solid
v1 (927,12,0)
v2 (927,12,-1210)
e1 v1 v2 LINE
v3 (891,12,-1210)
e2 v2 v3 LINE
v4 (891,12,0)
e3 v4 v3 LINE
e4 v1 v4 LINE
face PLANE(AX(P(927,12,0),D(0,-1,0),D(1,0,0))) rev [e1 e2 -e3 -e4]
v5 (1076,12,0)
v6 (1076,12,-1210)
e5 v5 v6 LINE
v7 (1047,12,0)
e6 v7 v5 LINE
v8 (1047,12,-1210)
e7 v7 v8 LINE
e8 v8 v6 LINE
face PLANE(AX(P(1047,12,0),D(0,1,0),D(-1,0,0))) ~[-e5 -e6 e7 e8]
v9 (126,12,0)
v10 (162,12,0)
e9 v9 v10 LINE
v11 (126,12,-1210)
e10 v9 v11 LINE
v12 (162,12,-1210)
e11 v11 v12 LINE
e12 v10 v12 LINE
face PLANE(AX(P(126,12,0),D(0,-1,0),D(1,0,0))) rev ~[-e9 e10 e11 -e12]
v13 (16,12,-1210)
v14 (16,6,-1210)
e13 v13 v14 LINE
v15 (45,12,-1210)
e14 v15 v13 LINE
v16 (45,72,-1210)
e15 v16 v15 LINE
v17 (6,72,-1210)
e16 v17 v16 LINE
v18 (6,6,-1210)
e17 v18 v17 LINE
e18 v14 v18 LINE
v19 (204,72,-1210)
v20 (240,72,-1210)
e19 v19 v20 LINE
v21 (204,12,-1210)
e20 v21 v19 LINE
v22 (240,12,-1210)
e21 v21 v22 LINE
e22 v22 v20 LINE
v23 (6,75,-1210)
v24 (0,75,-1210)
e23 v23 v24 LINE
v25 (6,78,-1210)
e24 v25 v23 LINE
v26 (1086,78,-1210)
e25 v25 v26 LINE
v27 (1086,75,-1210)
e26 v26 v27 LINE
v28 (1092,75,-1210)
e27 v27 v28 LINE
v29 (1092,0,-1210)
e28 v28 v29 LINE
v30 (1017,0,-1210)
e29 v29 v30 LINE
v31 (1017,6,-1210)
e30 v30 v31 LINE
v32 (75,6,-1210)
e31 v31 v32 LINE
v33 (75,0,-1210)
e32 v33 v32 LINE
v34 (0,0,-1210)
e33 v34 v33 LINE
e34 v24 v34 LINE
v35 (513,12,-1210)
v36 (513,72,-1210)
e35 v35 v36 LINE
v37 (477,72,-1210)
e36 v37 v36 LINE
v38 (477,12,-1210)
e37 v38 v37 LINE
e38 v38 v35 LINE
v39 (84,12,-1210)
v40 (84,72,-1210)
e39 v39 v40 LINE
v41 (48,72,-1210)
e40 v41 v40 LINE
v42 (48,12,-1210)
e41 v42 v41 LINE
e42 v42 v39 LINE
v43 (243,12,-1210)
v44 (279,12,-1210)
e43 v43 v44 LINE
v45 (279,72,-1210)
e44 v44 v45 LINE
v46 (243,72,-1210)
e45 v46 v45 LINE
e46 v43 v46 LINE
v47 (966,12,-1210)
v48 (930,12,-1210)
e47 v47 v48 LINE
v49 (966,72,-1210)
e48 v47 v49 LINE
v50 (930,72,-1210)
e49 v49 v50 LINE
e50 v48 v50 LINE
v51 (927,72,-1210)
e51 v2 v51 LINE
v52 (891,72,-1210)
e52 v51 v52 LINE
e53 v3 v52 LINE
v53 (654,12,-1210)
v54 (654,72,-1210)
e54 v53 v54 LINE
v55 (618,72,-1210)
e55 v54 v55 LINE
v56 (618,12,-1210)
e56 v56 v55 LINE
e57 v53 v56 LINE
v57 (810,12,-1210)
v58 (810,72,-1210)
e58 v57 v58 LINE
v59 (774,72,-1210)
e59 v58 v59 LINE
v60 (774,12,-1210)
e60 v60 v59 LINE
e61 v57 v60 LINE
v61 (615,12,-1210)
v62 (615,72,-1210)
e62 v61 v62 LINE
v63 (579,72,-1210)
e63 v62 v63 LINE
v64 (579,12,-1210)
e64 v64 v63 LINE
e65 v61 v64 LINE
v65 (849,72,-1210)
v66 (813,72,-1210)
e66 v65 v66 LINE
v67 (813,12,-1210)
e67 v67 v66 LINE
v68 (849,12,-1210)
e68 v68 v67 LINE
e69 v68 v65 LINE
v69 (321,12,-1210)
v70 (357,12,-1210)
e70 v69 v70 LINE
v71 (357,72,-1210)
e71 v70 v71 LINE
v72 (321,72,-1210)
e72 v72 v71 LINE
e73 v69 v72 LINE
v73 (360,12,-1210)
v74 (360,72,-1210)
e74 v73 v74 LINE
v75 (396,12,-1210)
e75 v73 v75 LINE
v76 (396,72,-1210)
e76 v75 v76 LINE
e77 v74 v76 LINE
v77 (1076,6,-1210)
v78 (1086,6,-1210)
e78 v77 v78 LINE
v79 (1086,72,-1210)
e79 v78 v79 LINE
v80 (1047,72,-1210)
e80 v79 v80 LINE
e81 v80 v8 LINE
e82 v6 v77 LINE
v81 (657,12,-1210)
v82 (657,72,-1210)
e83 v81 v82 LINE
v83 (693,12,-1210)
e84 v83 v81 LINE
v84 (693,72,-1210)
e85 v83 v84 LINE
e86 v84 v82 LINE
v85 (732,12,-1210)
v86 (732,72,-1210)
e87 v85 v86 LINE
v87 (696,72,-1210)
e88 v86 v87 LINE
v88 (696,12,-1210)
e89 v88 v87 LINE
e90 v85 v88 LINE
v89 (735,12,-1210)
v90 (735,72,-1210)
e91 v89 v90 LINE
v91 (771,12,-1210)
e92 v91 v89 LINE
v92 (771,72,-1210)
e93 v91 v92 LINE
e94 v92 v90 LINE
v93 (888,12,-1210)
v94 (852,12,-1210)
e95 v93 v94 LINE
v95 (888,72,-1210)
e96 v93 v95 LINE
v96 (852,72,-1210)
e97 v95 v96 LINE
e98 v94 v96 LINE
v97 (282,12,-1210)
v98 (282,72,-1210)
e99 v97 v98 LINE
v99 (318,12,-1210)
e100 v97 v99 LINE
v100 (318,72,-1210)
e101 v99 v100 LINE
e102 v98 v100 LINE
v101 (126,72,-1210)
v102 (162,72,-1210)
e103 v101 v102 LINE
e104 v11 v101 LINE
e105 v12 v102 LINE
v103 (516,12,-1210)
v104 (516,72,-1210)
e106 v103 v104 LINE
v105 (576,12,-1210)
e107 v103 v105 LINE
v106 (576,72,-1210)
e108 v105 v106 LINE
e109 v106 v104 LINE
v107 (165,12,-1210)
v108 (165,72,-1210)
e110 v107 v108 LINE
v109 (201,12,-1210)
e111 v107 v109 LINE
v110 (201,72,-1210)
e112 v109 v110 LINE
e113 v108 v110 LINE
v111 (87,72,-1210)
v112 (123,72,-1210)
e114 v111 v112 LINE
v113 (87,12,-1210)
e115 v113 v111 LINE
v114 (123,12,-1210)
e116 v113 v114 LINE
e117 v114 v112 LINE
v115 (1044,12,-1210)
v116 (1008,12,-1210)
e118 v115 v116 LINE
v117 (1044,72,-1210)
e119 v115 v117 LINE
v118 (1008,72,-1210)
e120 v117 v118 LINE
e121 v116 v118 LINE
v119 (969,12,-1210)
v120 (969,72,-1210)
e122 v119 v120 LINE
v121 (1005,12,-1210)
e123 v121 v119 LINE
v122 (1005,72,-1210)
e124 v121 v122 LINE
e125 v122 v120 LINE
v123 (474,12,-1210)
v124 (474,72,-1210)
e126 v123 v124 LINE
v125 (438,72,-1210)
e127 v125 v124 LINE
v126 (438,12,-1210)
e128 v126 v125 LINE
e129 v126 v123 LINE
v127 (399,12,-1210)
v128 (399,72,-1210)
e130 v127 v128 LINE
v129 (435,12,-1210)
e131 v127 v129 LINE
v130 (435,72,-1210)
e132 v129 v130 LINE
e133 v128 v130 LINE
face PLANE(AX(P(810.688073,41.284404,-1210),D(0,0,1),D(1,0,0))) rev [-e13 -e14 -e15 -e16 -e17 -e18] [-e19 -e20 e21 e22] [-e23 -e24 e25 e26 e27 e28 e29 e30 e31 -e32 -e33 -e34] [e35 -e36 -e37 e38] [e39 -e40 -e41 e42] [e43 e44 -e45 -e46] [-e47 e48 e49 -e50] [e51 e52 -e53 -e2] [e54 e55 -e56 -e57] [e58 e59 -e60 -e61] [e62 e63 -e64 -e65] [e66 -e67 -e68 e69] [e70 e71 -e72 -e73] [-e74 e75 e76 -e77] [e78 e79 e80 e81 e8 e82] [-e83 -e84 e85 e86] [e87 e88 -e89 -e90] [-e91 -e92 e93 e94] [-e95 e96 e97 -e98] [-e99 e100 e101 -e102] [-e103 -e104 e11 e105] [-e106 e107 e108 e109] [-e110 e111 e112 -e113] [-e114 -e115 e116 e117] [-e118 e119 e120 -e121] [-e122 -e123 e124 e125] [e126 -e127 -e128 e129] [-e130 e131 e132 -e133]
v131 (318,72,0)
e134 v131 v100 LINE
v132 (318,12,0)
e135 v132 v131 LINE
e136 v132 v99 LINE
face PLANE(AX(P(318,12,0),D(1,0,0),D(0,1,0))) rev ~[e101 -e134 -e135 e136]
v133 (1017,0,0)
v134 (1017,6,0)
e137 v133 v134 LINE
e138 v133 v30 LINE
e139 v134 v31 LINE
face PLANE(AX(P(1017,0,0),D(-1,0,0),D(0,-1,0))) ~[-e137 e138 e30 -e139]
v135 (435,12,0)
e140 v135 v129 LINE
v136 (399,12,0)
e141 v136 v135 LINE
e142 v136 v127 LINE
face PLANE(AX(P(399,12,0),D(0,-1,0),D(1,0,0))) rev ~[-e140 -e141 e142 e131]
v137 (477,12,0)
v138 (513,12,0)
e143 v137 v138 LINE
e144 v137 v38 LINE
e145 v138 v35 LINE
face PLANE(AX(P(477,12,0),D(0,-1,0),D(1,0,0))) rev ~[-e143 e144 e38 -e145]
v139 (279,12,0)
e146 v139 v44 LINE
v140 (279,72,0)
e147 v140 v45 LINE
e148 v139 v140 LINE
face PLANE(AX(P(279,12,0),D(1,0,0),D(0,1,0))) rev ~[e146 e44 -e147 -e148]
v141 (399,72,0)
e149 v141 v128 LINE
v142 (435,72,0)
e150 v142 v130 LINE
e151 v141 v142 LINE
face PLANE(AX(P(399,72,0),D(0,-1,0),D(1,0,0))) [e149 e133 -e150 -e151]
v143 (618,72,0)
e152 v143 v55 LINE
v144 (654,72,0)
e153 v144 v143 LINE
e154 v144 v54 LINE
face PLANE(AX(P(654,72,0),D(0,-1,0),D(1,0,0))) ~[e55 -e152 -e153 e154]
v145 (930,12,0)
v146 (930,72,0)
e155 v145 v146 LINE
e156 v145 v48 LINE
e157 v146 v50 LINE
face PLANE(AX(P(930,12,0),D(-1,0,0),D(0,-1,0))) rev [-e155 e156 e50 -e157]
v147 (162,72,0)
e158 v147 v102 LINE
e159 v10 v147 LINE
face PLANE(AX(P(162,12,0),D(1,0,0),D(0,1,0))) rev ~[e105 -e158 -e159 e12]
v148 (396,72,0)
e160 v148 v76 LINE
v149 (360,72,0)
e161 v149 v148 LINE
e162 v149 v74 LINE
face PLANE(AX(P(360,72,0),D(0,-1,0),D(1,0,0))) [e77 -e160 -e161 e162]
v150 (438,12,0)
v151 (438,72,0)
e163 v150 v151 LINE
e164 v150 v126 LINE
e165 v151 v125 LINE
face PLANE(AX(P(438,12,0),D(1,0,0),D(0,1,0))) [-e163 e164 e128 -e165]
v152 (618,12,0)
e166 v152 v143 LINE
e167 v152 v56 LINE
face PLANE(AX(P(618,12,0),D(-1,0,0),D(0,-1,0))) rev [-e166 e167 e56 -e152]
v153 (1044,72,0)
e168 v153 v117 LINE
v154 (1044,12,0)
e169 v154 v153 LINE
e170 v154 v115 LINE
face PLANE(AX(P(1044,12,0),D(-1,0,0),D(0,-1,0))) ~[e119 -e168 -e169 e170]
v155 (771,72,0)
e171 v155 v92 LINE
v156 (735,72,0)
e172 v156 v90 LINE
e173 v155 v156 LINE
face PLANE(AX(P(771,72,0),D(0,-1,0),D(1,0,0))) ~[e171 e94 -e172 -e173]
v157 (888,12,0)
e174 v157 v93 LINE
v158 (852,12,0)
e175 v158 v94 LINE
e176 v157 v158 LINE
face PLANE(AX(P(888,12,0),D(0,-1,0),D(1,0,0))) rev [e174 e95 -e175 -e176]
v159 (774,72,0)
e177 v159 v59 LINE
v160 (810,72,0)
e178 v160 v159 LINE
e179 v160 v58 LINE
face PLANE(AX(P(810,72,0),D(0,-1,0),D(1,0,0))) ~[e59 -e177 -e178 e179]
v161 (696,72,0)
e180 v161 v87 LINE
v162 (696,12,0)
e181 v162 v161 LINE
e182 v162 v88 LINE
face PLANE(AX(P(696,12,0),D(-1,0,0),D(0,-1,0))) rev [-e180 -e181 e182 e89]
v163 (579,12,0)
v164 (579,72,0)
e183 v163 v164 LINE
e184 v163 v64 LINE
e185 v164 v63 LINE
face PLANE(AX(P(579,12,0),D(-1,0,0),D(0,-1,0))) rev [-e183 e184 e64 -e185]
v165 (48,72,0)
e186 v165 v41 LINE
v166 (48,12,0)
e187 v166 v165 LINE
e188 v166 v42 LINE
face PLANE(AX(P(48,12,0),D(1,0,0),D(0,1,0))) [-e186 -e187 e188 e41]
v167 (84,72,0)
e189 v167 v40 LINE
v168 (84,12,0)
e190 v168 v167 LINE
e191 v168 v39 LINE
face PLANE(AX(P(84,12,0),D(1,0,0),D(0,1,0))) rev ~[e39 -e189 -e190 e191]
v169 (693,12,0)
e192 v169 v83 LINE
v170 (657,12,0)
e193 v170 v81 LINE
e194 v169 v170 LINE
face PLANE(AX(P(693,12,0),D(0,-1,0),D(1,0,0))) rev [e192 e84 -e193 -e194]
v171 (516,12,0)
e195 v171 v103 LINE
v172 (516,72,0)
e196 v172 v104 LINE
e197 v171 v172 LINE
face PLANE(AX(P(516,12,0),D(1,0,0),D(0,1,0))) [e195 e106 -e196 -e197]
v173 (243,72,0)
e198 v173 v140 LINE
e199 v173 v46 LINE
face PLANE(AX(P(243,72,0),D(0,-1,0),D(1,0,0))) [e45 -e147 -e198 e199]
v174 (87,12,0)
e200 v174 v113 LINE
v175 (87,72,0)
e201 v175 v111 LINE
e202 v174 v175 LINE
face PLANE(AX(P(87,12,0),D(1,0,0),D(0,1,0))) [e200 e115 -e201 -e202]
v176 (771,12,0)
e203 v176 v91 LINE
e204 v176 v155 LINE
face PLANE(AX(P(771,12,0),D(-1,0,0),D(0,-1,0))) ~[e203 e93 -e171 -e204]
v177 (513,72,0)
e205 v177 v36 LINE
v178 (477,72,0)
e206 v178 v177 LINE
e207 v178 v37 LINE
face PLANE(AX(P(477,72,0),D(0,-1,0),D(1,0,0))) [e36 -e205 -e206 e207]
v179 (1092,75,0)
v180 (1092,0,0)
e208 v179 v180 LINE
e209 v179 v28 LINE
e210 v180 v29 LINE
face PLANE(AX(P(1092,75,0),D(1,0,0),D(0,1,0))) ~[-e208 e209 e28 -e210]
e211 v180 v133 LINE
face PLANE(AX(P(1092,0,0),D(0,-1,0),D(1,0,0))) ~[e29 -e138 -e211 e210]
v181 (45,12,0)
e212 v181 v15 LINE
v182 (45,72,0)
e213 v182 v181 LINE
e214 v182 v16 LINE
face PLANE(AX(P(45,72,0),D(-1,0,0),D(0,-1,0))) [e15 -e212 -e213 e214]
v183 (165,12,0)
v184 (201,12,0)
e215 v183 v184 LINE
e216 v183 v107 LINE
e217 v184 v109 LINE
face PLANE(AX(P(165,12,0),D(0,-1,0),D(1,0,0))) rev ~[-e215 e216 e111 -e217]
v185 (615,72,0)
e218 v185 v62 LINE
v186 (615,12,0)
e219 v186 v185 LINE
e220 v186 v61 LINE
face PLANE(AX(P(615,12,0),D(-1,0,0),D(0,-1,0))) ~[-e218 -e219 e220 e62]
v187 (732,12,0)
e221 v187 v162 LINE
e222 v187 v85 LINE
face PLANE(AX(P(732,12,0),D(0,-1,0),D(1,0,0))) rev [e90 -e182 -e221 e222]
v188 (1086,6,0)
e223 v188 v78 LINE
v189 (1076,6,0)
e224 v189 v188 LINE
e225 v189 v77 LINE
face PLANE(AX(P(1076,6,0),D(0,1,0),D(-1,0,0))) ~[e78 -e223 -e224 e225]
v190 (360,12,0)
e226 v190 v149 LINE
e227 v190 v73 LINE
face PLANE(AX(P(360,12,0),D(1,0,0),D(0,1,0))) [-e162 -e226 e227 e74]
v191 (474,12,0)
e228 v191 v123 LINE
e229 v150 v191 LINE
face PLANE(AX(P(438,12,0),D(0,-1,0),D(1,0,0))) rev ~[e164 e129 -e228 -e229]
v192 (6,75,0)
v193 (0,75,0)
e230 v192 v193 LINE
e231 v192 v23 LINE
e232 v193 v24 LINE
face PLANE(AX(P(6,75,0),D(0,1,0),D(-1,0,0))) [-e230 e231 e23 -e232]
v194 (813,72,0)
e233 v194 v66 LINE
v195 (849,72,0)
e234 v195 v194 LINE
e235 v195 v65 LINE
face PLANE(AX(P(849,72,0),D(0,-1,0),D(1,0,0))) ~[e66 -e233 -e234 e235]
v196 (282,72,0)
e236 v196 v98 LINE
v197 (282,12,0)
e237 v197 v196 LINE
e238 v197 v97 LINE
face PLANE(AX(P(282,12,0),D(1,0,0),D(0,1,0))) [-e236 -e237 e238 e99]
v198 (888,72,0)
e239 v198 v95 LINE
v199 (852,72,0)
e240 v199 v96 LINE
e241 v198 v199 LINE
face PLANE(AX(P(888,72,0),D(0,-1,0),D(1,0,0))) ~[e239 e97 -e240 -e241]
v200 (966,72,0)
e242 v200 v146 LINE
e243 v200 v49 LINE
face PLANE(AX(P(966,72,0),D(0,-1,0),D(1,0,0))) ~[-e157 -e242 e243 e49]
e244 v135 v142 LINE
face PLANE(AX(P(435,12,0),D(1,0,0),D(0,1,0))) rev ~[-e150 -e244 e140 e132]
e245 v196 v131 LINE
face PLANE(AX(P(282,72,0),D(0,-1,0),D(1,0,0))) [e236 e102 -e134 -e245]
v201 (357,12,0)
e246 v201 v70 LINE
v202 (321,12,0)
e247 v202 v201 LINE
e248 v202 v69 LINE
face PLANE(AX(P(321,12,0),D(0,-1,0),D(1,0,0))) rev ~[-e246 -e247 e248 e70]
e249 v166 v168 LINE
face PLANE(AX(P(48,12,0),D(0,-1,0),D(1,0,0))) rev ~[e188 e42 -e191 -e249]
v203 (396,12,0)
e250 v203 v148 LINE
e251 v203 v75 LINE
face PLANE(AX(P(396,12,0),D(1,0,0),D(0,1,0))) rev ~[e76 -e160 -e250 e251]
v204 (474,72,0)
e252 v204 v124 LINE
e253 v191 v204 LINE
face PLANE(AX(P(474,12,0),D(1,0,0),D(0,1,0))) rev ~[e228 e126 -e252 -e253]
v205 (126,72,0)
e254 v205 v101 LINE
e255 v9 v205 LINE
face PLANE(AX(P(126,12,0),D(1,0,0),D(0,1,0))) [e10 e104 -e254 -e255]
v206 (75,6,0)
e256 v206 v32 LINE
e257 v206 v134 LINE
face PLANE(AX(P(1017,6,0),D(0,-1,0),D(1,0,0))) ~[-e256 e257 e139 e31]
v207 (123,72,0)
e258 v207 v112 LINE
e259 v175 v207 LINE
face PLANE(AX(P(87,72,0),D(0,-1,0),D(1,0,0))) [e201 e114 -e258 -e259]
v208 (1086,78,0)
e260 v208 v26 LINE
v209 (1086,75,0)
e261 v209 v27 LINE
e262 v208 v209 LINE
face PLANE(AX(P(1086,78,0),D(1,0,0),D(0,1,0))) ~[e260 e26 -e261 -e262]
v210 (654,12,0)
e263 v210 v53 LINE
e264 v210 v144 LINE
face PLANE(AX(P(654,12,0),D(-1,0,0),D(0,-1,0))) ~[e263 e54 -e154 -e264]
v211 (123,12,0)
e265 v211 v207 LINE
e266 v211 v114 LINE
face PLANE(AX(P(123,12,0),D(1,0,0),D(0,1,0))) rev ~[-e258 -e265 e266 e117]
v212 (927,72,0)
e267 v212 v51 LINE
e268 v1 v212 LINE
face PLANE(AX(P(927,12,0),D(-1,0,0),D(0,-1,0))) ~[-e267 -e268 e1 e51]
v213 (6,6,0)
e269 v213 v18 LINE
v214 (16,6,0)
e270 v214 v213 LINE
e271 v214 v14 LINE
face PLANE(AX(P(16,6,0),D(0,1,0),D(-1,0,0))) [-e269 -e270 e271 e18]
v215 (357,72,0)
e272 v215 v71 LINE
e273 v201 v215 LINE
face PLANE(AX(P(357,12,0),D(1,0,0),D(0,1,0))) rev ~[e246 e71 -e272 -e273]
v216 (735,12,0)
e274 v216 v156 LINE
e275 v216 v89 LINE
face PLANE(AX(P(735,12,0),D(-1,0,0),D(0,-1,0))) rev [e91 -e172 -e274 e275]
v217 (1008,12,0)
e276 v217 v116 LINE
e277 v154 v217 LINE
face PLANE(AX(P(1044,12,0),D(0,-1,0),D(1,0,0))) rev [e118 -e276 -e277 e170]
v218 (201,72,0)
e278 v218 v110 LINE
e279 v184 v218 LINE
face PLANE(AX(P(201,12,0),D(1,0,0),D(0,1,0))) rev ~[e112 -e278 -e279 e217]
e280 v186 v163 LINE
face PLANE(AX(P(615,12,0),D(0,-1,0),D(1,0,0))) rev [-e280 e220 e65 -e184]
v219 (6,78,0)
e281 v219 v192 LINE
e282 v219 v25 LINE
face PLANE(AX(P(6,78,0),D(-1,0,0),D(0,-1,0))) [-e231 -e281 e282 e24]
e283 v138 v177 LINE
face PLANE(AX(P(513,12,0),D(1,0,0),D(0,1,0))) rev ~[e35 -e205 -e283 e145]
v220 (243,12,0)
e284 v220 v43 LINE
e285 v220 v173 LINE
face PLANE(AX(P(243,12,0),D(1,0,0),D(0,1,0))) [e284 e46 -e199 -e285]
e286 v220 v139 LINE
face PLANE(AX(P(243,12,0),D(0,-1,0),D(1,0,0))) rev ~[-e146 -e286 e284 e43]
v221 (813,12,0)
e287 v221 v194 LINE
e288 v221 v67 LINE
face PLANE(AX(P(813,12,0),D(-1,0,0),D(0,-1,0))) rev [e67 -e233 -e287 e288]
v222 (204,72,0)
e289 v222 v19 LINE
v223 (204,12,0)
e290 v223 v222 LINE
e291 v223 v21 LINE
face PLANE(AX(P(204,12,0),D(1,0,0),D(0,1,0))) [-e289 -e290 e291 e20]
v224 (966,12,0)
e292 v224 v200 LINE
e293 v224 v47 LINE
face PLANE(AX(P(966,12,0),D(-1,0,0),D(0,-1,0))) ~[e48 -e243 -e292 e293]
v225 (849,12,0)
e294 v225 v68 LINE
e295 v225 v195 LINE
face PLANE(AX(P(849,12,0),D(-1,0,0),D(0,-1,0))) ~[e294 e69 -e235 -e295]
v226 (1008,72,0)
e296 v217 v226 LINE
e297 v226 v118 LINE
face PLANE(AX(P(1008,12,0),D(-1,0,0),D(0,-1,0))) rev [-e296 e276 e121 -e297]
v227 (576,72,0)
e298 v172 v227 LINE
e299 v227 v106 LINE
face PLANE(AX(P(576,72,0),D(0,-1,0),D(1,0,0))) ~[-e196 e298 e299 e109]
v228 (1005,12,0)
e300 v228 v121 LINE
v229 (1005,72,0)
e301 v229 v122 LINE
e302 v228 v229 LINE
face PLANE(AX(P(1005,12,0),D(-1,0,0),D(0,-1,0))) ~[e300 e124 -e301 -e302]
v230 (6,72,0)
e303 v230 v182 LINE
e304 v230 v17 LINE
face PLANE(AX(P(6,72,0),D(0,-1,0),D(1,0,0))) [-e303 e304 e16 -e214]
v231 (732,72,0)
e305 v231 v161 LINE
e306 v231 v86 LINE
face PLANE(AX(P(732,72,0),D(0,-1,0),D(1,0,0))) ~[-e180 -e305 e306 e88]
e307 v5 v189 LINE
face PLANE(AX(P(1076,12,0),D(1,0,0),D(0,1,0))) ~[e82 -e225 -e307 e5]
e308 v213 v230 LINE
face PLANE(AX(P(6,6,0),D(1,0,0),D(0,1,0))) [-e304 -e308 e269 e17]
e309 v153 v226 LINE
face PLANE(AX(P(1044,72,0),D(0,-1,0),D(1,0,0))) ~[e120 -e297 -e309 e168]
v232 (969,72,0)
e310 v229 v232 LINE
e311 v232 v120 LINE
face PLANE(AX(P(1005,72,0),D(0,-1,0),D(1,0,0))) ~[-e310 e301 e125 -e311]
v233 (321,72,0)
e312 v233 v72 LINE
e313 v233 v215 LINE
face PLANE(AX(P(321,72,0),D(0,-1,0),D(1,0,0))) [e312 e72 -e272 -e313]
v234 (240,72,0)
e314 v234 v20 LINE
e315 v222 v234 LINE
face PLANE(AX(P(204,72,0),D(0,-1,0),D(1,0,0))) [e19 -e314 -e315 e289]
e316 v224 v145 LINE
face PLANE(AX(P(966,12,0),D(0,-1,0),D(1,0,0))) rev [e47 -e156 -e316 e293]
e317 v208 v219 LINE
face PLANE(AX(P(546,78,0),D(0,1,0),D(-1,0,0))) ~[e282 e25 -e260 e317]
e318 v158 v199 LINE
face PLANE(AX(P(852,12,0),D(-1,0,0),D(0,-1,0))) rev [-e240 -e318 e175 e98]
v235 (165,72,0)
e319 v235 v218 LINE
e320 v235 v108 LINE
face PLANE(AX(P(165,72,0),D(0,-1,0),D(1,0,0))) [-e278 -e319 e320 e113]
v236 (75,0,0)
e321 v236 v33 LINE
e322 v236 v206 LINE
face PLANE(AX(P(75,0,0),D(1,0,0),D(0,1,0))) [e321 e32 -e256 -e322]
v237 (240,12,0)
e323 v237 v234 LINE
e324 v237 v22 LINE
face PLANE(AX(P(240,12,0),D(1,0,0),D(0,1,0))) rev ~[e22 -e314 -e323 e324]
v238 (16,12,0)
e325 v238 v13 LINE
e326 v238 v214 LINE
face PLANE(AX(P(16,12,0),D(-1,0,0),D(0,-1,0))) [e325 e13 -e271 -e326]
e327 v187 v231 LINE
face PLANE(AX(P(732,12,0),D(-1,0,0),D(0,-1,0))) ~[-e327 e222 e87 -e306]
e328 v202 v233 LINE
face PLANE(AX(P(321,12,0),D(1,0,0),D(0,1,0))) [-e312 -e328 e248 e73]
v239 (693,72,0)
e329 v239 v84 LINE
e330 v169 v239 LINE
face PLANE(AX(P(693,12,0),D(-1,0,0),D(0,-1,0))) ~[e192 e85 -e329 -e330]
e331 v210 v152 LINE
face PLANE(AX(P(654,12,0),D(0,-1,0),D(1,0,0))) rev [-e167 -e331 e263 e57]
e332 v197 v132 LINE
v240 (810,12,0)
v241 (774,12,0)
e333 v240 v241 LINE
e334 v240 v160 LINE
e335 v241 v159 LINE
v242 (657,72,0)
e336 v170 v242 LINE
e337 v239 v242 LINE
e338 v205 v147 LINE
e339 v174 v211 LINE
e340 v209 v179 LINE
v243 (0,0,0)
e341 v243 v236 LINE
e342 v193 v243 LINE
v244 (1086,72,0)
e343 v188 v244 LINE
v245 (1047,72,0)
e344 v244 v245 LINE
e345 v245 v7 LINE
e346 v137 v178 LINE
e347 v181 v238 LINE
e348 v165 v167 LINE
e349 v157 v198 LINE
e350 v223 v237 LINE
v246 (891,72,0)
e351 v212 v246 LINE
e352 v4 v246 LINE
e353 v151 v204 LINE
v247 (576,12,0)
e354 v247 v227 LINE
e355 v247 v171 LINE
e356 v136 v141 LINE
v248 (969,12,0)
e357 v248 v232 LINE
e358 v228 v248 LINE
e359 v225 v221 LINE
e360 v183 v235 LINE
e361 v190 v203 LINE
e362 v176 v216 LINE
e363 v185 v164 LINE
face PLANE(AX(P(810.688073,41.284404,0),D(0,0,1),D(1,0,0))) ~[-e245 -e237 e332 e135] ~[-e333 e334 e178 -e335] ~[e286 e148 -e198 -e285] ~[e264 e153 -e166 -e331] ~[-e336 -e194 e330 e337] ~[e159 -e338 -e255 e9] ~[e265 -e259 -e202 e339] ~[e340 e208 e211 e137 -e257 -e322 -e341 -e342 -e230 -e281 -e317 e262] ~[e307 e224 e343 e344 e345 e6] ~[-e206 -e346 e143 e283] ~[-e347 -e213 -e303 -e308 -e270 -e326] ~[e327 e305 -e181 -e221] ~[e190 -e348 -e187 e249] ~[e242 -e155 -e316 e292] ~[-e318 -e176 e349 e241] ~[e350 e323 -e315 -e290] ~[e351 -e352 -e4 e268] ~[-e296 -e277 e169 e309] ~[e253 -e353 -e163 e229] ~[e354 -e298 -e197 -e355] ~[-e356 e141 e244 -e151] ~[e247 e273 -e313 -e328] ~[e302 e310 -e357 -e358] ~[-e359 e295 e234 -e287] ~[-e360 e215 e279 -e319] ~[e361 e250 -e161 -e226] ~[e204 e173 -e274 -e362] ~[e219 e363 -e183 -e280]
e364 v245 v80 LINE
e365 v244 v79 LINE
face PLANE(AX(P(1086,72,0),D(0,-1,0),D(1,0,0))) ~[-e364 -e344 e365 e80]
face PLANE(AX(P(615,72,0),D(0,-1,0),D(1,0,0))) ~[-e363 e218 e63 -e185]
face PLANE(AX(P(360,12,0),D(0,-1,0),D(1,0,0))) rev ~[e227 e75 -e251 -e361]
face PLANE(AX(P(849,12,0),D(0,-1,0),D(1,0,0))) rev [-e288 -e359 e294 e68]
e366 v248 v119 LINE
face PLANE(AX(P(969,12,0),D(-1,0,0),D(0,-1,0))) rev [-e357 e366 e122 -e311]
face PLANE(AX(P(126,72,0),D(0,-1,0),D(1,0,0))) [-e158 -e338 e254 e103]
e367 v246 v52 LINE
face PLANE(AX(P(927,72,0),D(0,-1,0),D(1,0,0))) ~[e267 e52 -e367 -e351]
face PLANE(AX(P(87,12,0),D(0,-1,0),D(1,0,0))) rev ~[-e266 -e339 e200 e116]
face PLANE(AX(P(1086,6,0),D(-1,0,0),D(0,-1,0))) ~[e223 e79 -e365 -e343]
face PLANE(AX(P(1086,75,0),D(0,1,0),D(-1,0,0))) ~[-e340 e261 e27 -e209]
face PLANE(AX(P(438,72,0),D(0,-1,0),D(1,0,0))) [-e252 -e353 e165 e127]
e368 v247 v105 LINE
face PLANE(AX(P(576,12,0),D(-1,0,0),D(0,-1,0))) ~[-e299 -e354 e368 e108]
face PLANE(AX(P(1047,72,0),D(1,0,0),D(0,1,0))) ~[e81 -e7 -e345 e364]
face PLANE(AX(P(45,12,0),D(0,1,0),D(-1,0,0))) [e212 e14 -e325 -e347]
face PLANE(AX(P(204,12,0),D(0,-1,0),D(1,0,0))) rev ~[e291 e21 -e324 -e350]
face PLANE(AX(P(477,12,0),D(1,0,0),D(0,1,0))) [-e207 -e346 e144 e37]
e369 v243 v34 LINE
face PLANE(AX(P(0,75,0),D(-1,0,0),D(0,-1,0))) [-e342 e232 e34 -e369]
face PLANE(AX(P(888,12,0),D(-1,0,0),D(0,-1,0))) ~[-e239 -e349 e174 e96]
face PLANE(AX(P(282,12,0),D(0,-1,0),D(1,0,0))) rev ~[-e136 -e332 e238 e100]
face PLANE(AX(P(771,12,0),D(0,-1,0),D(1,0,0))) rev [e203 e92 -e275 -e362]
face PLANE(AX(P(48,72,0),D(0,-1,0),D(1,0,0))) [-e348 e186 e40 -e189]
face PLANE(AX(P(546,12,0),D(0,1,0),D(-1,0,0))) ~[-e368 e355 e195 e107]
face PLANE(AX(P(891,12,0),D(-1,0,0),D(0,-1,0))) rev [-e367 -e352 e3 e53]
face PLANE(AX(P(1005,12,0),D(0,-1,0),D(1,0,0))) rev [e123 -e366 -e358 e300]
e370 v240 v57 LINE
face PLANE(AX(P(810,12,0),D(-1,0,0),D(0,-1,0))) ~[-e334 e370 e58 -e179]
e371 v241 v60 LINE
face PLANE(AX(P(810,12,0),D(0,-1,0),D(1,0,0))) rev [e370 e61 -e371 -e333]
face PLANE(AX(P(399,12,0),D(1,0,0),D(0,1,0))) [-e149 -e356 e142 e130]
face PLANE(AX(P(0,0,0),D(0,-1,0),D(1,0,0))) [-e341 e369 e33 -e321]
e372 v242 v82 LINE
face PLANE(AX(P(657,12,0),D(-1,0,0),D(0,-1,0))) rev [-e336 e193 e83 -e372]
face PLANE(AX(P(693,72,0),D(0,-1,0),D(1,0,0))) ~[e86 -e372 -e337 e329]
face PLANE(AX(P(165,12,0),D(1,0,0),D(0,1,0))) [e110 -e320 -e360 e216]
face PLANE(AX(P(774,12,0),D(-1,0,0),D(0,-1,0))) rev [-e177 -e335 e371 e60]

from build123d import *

# Parameters (mm, degrees)
SKETCH_1_W      = 36
SKETCH_1_H      = 60
EXTRUDE_1_DEPTH = 1210


with BuildPart() as part:
    # Эскиз1 → Вытянуть1 (new body)
    with BuildSketch(Plane.XY):
        Polygon((0, 75), (0, 0), (75, 0), (75, 6), (546, 6), (546, 12), (516, 12), (516, 72), (546, 72), (546, 78), (6, 78), (6, 75), align=None)
        with Locations((495, 42)):
            Rectangle(SKETCH_1_W, SKETCH_1_H, mode=Mode.SUBTRACT)
        with Locations((456, 42)):
            Rectangle(SKETCH_1_W, SKETCH_1_H, mode=Mode.SUBTRACT)
        with Locations((417, 42)):
            Rectangle(SKETCH_1_W, SKETCH_1_H, mode=Mode.SUBTRACT)
        with Locations((378, 42)):
            Rectangle(SKETCH_1_W, SKETCH_1_H, mode=Mode.SUBTRACT)
        with Locations((339, 42)):
            Rectangle(SKETCH_1_W, SKETCH_1_H, mode=Mode.SUBTRACT)
        with Locations((300, 42)):
            Rectangle(SKETCH_1_W, SKETCH_1_H, mode=Mode.SUBTRACT)
        with Locations((261, 42)):
            Rectangle(SKETCH_1_W, SKETCH_1_H, mode=Mode.SUBTRACT)
        with Locations((222, 42)):
            Rectangle(SKETCH_1_W, SKETCH_1_H, mode=Mode.SUBTRACT)
        with Locations((183, 42)):
            Rectangle(SKETCH_1_W, SKETCH_1_H, mode=Mode.SUBTRACT)
        with Locations((144, 42)):
            Rectangle(SKETCH_1_W, SKETCH_1_H, mode=Mode.SUBTRACT)
        with Locations((105, 42)):
            Rectangle(SKETCH_1_W, SKETCH_1_H, mode=Mode.SUBTRACT)
        with Locations((66, 42)):
            Rectangle(SKETCH_1_W, SKETCH_1_H, mode=Mode.SUBTRACT)
        Polygon((45, 12), (16, 12), (16, 6), (6, 6), (6, 72), (45, 72), align=None, mode=Mode.SUBTRACT)
    extrude(amount=-EXTRUDE_1_DEPTH)

    # Зеркальное отражение1: part across face


with BuildPart() as part_1:
    add(part.part)
    add(part.part.mirror(Plane(origin=(546, 9, -605), x_dir=(0, 0, 1), z_dir=(1, 0, 0))))


solid = part_1.part
